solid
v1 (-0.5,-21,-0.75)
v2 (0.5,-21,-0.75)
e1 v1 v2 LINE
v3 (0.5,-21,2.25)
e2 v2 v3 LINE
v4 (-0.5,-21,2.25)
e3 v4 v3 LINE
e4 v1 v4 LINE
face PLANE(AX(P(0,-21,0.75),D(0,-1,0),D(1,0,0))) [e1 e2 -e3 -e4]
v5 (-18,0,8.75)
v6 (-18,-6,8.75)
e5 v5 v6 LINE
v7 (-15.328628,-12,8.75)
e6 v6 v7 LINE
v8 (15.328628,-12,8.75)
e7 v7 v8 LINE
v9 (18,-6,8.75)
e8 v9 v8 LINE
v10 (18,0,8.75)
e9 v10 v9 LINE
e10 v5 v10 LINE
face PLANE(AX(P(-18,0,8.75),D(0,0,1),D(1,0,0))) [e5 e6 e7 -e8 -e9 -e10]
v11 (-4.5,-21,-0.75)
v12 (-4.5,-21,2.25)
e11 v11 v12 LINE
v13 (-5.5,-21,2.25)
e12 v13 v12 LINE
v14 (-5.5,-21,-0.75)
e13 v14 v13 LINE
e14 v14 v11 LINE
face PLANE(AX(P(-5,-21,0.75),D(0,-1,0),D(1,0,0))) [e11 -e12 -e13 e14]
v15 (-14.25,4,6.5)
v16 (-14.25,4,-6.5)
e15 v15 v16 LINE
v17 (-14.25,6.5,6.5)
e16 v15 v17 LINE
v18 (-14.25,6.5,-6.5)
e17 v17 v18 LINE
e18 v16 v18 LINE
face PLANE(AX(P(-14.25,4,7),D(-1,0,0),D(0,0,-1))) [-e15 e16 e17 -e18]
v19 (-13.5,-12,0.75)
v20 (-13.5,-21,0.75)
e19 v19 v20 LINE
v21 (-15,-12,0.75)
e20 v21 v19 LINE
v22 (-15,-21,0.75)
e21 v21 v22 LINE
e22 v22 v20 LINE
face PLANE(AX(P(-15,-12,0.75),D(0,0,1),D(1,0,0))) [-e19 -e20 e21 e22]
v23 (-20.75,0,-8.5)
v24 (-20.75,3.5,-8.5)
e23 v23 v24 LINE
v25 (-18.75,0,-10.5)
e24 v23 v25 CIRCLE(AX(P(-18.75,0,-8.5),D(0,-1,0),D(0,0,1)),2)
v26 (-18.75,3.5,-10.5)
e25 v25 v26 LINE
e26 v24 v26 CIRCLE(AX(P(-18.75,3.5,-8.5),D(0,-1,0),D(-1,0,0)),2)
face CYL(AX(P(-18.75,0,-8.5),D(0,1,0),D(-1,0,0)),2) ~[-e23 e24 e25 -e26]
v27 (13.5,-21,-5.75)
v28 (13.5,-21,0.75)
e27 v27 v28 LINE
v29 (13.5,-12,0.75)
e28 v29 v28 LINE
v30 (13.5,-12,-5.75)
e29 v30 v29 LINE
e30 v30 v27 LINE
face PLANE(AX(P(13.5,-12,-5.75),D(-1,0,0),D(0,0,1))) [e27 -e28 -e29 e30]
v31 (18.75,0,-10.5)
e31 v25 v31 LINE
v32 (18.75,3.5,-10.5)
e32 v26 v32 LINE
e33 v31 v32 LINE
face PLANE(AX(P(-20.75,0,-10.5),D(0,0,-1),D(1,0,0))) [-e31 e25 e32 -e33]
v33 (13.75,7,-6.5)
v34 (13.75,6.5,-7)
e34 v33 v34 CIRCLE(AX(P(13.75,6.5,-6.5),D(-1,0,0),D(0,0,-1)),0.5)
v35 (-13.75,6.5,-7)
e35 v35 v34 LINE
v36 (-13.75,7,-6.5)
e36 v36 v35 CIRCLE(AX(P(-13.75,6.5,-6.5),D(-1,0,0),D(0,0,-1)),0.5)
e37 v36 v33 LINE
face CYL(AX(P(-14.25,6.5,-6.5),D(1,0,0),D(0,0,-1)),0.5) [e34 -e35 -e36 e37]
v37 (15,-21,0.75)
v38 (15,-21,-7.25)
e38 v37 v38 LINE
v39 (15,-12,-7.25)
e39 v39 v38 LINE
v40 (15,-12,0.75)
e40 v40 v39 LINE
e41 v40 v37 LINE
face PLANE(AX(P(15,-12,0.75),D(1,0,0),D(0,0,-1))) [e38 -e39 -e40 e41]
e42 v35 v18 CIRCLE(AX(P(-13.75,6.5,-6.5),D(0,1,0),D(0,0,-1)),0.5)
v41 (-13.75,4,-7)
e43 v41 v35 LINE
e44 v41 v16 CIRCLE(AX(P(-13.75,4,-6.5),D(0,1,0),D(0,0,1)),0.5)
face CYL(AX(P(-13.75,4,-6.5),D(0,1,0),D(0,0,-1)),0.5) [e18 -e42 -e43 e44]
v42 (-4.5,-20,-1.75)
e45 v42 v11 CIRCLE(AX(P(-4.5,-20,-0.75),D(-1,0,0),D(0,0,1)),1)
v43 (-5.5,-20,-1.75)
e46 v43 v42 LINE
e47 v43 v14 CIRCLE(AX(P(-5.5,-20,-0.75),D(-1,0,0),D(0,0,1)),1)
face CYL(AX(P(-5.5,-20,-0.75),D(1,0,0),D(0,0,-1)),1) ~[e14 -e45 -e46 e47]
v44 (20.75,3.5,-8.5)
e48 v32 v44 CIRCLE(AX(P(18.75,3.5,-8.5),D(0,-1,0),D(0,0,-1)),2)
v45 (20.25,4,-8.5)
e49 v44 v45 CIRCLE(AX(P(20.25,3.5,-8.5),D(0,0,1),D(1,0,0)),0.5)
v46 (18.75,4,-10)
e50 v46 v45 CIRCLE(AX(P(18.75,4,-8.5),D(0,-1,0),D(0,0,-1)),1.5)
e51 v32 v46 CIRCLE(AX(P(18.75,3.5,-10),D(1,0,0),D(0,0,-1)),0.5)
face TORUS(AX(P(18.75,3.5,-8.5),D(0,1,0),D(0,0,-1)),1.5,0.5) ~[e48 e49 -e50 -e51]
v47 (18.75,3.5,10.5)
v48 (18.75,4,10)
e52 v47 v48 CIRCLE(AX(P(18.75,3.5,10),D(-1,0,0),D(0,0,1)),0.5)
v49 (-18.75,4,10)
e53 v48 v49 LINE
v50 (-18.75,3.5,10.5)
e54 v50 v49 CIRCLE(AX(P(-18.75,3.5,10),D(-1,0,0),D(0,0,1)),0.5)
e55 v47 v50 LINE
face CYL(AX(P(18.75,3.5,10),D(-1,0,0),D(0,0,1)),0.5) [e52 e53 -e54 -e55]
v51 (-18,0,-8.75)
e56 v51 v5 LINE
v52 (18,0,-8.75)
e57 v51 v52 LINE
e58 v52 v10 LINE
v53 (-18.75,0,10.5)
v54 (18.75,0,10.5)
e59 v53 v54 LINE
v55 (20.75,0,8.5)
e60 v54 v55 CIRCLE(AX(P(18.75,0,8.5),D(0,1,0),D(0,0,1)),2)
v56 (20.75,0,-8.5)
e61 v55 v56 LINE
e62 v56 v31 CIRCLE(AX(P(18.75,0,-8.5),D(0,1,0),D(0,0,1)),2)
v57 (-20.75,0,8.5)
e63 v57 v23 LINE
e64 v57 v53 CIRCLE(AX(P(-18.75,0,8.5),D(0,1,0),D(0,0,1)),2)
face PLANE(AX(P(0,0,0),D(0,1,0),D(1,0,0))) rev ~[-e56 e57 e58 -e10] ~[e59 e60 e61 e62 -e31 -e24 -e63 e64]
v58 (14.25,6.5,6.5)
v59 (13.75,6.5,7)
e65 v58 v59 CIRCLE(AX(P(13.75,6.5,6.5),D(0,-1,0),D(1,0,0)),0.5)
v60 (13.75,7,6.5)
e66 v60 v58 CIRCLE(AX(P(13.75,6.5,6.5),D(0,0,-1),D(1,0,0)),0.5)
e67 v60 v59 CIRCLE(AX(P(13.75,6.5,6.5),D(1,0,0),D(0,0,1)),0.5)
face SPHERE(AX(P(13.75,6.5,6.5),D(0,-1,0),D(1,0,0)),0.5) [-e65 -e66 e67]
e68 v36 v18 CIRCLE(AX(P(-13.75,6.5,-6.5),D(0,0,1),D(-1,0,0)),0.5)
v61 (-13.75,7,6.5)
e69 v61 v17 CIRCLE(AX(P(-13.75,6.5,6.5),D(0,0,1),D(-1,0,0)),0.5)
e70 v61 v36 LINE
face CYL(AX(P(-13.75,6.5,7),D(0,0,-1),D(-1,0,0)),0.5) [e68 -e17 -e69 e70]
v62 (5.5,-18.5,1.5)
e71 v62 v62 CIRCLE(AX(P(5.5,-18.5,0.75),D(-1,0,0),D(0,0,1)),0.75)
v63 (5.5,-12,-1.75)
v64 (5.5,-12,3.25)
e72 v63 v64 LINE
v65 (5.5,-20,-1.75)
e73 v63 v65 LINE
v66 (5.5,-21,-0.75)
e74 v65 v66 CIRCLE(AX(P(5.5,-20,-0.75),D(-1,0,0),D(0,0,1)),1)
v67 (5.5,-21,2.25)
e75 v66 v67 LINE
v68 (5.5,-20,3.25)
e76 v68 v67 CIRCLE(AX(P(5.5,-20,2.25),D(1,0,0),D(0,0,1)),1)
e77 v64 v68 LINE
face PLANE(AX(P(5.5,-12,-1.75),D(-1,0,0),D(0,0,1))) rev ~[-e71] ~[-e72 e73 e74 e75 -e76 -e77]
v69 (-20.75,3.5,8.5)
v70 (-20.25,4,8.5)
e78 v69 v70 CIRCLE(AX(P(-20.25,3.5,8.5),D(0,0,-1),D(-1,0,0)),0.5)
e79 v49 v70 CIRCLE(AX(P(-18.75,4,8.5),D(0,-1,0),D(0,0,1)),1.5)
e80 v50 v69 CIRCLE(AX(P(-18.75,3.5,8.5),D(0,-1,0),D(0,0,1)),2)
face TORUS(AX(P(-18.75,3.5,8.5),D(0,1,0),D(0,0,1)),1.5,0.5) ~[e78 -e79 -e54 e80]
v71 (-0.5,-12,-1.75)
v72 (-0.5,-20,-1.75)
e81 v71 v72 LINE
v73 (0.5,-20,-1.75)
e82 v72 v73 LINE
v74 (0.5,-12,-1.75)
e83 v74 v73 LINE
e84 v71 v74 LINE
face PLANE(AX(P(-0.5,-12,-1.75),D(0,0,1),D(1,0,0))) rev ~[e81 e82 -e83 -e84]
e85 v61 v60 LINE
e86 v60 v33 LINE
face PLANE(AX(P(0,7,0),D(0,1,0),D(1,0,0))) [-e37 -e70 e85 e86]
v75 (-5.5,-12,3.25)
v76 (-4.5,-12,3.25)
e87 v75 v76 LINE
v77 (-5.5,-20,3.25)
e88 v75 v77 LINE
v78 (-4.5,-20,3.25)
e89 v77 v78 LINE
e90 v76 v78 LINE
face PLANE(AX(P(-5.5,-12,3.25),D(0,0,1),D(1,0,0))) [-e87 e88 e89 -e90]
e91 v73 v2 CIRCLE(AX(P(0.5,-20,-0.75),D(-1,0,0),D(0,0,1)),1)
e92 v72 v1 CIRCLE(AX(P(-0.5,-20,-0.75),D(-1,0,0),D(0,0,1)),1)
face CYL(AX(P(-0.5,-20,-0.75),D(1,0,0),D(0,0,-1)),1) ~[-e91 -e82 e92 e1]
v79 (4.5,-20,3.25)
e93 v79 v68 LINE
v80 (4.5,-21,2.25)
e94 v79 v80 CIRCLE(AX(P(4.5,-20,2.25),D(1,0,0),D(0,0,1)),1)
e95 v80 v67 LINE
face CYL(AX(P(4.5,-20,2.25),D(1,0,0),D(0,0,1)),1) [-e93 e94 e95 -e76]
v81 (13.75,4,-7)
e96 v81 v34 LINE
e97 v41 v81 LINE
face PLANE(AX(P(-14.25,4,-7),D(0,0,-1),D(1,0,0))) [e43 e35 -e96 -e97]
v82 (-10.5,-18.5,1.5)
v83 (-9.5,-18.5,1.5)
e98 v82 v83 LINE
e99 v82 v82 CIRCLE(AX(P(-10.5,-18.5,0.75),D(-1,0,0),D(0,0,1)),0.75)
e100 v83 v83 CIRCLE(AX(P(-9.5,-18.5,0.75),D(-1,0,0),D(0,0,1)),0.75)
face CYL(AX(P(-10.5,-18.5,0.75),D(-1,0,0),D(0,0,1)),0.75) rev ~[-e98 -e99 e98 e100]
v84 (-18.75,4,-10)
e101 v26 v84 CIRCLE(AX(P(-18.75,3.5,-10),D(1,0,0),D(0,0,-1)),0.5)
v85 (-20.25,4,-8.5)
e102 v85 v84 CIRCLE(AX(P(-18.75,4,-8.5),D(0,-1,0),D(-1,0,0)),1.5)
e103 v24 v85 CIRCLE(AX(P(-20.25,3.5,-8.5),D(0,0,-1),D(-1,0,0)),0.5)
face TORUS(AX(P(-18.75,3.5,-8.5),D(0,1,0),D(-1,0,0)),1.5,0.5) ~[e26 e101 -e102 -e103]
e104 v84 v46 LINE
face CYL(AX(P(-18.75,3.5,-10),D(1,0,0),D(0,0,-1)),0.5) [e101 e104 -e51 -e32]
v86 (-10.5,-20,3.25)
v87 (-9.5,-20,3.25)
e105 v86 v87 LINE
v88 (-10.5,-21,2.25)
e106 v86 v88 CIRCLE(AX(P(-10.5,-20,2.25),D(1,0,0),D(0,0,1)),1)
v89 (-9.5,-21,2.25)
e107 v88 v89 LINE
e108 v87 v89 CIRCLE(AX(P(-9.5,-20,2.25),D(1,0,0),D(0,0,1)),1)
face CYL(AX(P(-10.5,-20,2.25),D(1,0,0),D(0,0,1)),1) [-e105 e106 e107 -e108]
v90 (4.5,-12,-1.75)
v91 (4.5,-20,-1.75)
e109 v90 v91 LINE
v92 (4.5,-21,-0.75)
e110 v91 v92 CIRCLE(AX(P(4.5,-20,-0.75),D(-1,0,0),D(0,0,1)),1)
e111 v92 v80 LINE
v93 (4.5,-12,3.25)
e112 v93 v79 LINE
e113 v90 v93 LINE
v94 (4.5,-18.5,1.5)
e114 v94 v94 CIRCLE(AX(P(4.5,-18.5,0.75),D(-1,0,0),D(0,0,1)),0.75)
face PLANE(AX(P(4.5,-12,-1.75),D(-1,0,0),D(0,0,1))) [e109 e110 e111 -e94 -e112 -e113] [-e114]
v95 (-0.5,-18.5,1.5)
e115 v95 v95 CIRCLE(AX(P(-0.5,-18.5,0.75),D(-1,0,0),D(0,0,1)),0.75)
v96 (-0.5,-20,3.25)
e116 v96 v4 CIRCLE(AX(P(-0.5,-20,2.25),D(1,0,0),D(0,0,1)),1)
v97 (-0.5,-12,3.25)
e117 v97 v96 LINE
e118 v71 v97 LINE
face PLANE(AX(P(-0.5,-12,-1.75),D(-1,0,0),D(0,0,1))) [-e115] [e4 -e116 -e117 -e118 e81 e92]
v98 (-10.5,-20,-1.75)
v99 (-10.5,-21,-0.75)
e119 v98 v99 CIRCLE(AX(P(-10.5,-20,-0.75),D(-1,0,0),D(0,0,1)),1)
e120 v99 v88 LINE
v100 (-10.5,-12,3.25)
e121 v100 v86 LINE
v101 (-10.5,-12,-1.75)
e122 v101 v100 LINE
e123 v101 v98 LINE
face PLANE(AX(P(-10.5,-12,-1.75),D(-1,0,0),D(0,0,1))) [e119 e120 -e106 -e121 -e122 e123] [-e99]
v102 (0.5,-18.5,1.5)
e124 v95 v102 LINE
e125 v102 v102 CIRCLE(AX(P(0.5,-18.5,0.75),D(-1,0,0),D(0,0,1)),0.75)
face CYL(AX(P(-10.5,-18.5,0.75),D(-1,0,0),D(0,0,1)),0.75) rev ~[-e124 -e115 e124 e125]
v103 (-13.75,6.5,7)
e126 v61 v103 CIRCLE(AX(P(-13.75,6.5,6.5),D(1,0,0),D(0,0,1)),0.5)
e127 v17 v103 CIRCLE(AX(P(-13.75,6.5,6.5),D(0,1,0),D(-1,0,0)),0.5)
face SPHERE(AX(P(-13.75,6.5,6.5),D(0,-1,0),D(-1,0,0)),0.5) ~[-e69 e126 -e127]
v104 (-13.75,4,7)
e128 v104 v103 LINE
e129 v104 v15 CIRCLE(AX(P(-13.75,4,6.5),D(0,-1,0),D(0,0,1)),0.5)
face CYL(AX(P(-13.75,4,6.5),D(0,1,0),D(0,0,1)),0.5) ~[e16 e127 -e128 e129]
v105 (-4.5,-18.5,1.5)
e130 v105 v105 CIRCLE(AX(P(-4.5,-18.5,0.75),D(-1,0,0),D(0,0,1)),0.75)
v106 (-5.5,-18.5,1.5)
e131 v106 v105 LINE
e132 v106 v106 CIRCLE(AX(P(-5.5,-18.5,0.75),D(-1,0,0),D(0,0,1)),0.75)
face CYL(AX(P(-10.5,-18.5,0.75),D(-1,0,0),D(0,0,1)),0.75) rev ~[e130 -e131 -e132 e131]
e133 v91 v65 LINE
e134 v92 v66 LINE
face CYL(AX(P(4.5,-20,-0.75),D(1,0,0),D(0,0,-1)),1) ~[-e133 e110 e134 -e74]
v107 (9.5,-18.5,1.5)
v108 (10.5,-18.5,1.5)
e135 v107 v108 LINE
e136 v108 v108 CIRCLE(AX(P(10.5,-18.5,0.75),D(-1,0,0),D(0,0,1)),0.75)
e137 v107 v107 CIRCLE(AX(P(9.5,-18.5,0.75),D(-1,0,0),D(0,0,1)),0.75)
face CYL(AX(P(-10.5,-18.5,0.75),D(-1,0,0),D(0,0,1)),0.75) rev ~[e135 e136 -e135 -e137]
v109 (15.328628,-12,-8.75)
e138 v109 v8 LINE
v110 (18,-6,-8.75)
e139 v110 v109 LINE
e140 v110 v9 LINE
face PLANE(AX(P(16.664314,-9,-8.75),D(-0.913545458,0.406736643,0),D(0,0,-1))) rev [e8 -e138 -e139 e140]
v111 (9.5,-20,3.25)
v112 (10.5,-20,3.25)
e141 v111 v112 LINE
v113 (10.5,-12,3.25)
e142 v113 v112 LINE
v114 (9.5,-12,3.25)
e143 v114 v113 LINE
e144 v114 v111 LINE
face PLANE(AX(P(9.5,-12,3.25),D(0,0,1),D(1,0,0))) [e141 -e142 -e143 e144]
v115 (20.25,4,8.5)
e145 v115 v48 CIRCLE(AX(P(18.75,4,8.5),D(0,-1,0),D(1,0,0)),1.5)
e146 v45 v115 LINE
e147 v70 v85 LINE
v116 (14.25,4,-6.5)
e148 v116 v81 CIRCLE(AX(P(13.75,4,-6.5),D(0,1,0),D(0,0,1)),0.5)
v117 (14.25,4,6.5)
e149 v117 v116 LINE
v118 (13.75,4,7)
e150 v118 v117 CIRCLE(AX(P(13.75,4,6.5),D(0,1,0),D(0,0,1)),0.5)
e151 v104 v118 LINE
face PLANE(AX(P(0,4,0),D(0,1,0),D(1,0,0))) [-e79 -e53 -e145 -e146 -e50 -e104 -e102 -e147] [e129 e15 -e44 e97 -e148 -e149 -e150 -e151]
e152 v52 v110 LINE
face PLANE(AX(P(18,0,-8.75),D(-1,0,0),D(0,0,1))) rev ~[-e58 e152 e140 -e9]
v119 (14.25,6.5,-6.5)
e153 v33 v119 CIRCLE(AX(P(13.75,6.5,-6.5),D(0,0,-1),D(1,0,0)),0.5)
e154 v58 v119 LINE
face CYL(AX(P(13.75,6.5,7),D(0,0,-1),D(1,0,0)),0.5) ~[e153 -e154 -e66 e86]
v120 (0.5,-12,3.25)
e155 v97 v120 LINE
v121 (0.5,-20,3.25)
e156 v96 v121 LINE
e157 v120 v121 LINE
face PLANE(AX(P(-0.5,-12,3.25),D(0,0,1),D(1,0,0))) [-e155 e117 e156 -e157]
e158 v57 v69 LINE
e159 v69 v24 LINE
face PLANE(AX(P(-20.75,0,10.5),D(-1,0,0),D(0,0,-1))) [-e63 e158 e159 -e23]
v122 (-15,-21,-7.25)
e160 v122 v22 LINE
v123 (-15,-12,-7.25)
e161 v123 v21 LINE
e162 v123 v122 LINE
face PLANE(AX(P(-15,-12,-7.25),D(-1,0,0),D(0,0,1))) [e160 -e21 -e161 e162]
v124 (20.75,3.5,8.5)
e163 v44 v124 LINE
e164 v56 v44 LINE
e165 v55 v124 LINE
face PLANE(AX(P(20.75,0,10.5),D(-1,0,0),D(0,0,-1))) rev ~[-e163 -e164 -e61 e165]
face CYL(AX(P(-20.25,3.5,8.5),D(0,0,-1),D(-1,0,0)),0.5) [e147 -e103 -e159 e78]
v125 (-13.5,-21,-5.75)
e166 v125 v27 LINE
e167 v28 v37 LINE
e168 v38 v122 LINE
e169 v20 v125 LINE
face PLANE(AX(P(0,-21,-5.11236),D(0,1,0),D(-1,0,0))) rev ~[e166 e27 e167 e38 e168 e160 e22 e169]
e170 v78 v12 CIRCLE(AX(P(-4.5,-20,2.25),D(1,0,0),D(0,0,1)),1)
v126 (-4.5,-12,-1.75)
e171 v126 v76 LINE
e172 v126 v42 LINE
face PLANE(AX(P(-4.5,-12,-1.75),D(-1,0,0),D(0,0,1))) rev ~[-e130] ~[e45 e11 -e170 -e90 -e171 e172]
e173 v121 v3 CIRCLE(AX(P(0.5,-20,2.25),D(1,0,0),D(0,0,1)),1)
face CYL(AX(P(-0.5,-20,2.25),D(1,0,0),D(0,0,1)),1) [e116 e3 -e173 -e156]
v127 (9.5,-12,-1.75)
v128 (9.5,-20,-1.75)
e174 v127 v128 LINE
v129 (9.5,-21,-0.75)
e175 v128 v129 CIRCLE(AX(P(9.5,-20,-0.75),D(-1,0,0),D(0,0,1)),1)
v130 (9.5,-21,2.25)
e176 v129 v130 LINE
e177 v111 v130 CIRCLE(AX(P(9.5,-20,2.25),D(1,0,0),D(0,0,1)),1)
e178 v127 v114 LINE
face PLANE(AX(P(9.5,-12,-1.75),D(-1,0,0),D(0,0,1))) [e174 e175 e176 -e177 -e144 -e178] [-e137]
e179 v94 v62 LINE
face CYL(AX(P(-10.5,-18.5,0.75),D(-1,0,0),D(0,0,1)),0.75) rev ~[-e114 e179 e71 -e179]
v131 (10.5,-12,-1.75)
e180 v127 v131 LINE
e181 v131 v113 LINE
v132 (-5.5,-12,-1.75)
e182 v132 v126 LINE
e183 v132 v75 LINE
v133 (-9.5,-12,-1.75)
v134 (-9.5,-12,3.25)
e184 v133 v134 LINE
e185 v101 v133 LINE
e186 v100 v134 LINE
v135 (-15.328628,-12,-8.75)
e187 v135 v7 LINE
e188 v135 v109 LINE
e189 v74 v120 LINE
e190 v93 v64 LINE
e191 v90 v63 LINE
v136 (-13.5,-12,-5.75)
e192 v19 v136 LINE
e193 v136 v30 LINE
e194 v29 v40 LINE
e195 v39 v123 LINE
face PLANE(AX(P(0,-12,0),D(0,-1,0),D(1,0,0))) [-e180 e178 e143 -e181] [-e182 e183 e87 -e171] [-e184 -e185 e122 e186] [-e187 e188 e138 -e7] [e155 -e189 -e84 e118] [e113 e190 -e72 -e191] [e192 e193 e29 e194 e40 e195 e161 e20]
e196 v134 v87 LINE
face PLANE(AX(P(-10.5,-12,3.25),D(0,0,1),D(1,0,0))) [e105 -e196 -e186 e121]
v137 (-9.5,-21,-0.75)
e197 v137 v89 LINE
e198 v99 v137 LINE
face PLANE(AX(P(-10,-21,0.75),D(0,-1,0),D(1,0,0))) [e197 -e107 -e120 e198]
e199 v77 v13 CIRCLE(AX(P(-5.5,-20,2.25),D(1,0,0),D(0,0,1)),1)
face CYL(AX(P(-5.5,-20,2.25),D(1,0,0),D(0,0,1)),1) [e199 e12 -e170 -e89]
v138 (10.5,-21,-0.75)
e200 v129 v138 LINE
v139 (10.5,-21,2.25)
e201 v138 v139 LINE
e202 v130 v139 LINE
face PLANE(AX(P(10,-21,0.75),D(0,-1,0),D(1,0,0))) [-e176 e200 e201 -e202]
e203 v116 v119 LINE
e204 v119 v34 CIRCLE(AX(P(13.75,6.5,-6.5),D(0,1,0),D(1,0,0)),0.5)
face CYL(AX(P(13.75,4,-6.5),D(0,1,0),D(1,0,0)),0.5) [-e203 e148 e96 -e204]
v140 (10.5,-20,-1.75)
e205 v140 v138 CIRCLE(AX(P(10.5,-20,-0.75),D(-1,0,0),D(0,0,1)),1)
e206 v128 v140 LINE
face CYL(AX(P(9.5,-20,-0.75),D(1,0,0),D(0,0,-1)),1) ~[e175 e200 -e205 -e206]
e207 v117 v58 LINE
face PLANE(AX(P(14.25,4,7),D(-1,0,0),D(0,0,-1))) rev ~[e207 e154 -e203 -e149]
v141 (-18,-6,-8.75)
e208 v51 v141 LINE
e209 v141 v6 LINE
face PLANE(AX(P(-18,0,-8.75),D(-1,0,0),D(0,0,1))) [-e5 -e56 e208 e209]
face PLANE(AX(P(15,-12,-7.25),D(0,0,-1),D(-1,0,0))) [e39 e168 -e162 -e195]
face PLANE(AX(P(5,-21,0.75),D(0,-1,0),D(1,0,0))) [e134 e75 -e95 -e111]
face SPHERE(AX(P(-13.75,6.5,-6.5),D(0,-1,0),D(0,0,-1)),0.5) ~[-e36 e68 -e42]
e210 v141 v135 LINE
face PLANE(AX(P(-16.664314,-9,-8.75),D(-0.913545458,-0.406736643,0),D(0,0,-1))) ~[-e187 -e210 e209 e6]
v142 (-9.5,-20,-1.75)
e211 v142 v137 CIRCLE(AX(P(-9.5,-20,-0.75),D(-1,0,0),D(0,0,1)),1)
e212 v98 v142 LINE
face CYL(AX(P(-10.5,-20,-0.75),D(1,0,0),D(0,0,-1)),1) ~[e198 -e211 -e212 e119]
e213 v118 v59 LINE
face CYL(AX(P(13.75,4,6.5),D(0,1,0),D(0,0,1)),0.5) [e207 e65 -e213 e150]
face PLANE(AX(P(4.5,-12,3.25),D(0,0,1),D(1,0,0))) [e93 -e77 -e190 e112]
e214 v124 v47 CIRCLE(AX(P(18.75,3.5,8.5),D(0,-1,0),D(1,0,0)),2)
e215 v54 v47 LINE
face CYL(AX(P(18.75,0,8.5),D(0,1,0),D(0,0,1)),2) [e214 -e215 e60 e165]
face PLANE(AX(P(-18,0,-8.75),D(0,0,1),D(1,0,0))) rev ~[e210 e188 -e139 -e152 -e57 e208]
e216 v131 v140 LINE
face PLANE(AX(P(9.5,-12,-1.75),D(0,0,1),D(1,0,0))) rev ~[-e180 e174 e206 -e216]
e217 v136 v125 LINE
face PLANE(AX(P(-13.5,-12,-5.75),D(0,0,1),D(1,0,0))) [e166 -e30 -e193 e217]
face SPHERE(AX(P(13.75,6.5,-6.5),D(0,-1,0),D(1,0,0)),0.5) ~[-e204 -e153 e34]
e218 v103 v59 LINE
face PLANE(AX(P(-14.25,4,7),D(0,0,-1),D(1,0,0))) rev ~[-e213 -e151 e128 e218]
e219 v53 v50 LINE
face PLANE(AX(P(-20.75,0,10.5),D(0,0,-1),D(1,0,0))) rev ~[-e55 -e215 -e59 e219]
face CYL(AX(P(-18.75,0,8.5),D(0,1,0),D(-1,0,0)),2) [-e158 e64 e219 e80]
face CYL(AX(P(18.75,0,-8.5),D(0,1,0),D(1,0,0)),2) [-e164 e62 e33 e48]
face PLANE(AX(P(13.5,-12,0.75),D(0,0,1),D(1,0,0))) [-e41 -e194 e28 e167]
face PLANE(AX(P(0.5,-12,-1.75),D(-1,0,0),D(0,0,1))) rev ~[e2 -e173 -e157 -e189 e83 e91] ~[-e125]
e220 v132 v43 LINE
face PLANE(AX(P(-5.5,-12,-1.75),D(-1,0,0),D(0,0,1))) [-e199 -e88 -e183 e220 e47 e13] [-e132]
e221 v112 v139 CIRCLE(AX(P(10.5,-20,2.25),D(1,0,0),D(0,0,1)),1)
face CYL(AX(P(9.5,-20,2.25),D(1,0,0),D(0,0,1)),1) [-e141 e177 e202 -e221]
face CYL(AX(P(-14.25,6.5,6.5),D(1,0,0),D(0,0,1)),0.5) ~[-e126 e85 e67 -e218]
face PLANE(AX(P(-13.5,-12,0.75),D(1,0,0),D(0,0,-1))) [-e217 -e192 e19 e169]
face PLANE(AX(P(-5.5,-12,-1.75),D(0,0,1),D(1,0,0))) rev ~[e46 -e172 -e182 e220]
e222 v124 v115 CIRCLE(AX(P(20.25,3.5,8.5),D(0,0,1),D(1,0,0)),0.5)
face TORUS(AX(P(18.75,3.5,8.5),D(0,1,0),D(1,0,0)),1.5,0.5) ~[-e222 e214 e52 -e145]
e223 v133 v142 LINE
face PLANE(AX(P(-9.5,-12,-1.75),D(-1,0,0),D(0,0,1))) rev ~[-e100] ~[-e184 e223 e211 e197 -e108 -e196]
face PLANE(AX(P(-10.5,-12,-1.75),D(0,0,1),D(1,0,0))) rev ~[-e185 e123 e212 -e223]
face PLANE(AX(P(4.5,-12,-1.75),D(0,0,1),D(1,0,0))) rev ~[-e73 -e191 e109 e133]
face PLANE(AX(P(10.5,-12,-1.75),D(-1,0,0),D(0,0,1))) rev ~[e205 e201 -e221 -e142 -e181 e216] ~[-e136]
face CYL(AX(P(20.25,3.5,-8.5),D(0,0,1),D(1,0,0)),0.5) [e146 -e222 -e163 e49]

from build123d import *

# Parameters (mm, degrees)
SKETCH_1_W             = 41.5
SKETCH_1_H             = 21
EXTRUDE_1_DEPTH        = 4
FILLET_1_R             = 2
FILLET_2_R             = 0.5
SKETCH_2_W             = 28.5
SKETCH_2_H             = 14
EXTRUDE_2_DEPTH        = 3
FILLET_3_R             = 0.5
SKETCH_3_W             = 36
SKETCH_3_H             = 17.5
EXTRUDE_3_DEPTH        = 12
CHAMFER_1_SIZE         = 6
CHAMFER_1_SIZE2        = 2.671372112
CHAMFER_1_PART_2_SIZE  = 6
CHAMFER_1_PART_2_SIZE2 = 2.671372112
SKETCH_4_W             = 1
SKETCH_4_H             = 5
EXTRUDE_4_DEPTH        = 9
FILLET_4_R             = 1
SKETCH_5_R             = 0.75
CUT_EXTRUDE_1_DEPTH    = 21


with BuildPart() as part:
    # Эскиз1 → Бобышка-Вытянуть1 (new body)
    with BuildSketch(Plane(origin=(0, 0, 0), x_dir=(1, 0, 0), z_dir=(0, 1, 0))):
        Rectangle(SKETCH_1_W, SKETCH_1_H)
    extrude(amount=EXTRUDE_1_DEPTH)

    # Скругление1
    fillet_1_edges = [part.edges().sort_by_distance(p)[0] for p in [
        (20.75, 2, 10.5),
        (-20.75, 2, 10.5),
        (-20.75, 2, -10.5),
        (20.75, 2, -10.5),
    ]]
    fillet(fillet_1_edges, radius=FILLET_1_R)

    # Скругление2
    fillet_2_edges = [part.edges().sort_by_distance(p)[0] for p in [
        (-20.75, 4, 0),
        (0, 4, -10.5),
        (20.75, 4, 0),
        (0, 4, 10.5),
        (-20.164213562, 4, 9.914213562),
        (20.164213562, 4, 9.914213562),
        (20.164213562, 4, -9.914213562),
        (-20.164213562, 4, -9.914213562),
    ]]
    fillet(fillet_2_edges, radius=FILLET_2_R)

    # Эскиз2 → Бобышка-Вытянуть2 (add)
    with BuildSketch(Plane(origin=(0, 4, 0), x_dir=(1, 0, 0), z_dir=(0, 1, 0))):
        Rectangle(SKETCH_2_W, SKETCH_2_H)
    extrude(amount=EXTRUDE_2_DEPTH)

    # Скругление3
    fillet_3_edges = [part.edges().sort_by_distance(p)[0] for p in [
        (14.25, 5.5, 7),
        (14.25, 5.5, -7),
        (-14.25, 5.5, -7),
        (-14.25, 5.5, 7),
        (14.25, 7, 0),
        (0, 7, -7),
        (-14.25, 7, 0),
        (0, 7, 7),
    ]]
    fillet(fillet_3_edges, radius=FILLET_3_R)

    # Эскиз3 → Бобышка-Вытянуть3 (add)
    with BuildSketch(Plane.XZ):
        Rectangle(SKETCH_3_W, SKETCH_3_H)
    extrude(amount=EXTRUDE_3_DEPTH)

    # Фаска1
    chamfer_1_edges = [part.edges().sort_by_distance(p)[0] for p in [
        (18, -12, 0),
    ]]
    chamfer_1_side = [part.faces().sort_by_distance(p)[0] for p in [
        (18, -6, 0),
    ]]
    chamfer(chamfer_1_edges, length=CHAMFER_1_SIZE, length2=CHAMFER_1_SIZE2, reference=chamfer_1_side[0])

    # Фаска1 part 2
    chamfer_1_part_2_edges = [part.edges().sort_by_distance(p)[0] for p in [
        (-18, -12, 0),
    ]]
    chamfer_1_part_2_side = [part.faces().sort_by_distance(p)[0] for p in [
        (-18, -6, 0),
    ]]
    chamfer(chamfer_1_part_2_edges, length=CHAMFER_1_PART_2_SIZE, length2=CHAMFER_1_PART_2_SIZE2, reference=chamfer_1_part_2_side[0])

    # Эскиз4 → Бобышка-Вытянуть4 (add)
    with BuildSketch(Plane.XZ.offset(12)):
        Polygon((13.5, 0.75), (15, 0.75), (15, -7.25), (-15, -7.25), (-15, 0.75), (-13.5, 0.75), (-13.5, -5.75), (13.5, -5.75), align=None)
        with Locations((5, 0.75)):
            Rectangle(SKETCH_4_W, SKETCH_4_H)
        with Locations((0, 0.75)):
            Rectangle(SKETCH_4_W, SKETCH_4_H)
        with Locations((10, 0.75)):
            Rectangle(SKETCH_4_W, SKETCH_4_H)
        with Locations((-5, 0.75)):
            Rectangle(SKETCH_4_W, SKETCH_4_H)
        with Locations((-10, 0.75)):
            Rectangle(SKETCH_4_W, SKETCH_4_H)
    extrude(amount=EXTRUDE_4_DEPTH)

    # Скругление4
    fillet_4_edges = [part.edges().sort_by_distance(p)[0] for p in [
        (5, -21, -1.75),
        (5, -21, 3.25),
        (0, -21, 3.25),
        (0, -21, -1.75),
        (10, -21, -1.75),
        (10, -21, 3.25),
        (-5, -21, -1.75),
        (-5, -21, 3.25),
        (-10, -21, -1.75),
        (-10, -21, 3.25),
    ]]
    fillet(fillet_4_edges, radius=FILLET_4_R)

    # Эскиз5 → Вырез-Вытянуть1 (cut)
    with BuildSketch(Plane.ZY.offset(10.5)):
        with Locations((0.75, -18.5)):
            Circle(SKETCH_5_R)
    extrude(amount=-CUT_EXTRUDE_1_DEPTH, mode=Mode.SUBTRACT)


solid = part.part
